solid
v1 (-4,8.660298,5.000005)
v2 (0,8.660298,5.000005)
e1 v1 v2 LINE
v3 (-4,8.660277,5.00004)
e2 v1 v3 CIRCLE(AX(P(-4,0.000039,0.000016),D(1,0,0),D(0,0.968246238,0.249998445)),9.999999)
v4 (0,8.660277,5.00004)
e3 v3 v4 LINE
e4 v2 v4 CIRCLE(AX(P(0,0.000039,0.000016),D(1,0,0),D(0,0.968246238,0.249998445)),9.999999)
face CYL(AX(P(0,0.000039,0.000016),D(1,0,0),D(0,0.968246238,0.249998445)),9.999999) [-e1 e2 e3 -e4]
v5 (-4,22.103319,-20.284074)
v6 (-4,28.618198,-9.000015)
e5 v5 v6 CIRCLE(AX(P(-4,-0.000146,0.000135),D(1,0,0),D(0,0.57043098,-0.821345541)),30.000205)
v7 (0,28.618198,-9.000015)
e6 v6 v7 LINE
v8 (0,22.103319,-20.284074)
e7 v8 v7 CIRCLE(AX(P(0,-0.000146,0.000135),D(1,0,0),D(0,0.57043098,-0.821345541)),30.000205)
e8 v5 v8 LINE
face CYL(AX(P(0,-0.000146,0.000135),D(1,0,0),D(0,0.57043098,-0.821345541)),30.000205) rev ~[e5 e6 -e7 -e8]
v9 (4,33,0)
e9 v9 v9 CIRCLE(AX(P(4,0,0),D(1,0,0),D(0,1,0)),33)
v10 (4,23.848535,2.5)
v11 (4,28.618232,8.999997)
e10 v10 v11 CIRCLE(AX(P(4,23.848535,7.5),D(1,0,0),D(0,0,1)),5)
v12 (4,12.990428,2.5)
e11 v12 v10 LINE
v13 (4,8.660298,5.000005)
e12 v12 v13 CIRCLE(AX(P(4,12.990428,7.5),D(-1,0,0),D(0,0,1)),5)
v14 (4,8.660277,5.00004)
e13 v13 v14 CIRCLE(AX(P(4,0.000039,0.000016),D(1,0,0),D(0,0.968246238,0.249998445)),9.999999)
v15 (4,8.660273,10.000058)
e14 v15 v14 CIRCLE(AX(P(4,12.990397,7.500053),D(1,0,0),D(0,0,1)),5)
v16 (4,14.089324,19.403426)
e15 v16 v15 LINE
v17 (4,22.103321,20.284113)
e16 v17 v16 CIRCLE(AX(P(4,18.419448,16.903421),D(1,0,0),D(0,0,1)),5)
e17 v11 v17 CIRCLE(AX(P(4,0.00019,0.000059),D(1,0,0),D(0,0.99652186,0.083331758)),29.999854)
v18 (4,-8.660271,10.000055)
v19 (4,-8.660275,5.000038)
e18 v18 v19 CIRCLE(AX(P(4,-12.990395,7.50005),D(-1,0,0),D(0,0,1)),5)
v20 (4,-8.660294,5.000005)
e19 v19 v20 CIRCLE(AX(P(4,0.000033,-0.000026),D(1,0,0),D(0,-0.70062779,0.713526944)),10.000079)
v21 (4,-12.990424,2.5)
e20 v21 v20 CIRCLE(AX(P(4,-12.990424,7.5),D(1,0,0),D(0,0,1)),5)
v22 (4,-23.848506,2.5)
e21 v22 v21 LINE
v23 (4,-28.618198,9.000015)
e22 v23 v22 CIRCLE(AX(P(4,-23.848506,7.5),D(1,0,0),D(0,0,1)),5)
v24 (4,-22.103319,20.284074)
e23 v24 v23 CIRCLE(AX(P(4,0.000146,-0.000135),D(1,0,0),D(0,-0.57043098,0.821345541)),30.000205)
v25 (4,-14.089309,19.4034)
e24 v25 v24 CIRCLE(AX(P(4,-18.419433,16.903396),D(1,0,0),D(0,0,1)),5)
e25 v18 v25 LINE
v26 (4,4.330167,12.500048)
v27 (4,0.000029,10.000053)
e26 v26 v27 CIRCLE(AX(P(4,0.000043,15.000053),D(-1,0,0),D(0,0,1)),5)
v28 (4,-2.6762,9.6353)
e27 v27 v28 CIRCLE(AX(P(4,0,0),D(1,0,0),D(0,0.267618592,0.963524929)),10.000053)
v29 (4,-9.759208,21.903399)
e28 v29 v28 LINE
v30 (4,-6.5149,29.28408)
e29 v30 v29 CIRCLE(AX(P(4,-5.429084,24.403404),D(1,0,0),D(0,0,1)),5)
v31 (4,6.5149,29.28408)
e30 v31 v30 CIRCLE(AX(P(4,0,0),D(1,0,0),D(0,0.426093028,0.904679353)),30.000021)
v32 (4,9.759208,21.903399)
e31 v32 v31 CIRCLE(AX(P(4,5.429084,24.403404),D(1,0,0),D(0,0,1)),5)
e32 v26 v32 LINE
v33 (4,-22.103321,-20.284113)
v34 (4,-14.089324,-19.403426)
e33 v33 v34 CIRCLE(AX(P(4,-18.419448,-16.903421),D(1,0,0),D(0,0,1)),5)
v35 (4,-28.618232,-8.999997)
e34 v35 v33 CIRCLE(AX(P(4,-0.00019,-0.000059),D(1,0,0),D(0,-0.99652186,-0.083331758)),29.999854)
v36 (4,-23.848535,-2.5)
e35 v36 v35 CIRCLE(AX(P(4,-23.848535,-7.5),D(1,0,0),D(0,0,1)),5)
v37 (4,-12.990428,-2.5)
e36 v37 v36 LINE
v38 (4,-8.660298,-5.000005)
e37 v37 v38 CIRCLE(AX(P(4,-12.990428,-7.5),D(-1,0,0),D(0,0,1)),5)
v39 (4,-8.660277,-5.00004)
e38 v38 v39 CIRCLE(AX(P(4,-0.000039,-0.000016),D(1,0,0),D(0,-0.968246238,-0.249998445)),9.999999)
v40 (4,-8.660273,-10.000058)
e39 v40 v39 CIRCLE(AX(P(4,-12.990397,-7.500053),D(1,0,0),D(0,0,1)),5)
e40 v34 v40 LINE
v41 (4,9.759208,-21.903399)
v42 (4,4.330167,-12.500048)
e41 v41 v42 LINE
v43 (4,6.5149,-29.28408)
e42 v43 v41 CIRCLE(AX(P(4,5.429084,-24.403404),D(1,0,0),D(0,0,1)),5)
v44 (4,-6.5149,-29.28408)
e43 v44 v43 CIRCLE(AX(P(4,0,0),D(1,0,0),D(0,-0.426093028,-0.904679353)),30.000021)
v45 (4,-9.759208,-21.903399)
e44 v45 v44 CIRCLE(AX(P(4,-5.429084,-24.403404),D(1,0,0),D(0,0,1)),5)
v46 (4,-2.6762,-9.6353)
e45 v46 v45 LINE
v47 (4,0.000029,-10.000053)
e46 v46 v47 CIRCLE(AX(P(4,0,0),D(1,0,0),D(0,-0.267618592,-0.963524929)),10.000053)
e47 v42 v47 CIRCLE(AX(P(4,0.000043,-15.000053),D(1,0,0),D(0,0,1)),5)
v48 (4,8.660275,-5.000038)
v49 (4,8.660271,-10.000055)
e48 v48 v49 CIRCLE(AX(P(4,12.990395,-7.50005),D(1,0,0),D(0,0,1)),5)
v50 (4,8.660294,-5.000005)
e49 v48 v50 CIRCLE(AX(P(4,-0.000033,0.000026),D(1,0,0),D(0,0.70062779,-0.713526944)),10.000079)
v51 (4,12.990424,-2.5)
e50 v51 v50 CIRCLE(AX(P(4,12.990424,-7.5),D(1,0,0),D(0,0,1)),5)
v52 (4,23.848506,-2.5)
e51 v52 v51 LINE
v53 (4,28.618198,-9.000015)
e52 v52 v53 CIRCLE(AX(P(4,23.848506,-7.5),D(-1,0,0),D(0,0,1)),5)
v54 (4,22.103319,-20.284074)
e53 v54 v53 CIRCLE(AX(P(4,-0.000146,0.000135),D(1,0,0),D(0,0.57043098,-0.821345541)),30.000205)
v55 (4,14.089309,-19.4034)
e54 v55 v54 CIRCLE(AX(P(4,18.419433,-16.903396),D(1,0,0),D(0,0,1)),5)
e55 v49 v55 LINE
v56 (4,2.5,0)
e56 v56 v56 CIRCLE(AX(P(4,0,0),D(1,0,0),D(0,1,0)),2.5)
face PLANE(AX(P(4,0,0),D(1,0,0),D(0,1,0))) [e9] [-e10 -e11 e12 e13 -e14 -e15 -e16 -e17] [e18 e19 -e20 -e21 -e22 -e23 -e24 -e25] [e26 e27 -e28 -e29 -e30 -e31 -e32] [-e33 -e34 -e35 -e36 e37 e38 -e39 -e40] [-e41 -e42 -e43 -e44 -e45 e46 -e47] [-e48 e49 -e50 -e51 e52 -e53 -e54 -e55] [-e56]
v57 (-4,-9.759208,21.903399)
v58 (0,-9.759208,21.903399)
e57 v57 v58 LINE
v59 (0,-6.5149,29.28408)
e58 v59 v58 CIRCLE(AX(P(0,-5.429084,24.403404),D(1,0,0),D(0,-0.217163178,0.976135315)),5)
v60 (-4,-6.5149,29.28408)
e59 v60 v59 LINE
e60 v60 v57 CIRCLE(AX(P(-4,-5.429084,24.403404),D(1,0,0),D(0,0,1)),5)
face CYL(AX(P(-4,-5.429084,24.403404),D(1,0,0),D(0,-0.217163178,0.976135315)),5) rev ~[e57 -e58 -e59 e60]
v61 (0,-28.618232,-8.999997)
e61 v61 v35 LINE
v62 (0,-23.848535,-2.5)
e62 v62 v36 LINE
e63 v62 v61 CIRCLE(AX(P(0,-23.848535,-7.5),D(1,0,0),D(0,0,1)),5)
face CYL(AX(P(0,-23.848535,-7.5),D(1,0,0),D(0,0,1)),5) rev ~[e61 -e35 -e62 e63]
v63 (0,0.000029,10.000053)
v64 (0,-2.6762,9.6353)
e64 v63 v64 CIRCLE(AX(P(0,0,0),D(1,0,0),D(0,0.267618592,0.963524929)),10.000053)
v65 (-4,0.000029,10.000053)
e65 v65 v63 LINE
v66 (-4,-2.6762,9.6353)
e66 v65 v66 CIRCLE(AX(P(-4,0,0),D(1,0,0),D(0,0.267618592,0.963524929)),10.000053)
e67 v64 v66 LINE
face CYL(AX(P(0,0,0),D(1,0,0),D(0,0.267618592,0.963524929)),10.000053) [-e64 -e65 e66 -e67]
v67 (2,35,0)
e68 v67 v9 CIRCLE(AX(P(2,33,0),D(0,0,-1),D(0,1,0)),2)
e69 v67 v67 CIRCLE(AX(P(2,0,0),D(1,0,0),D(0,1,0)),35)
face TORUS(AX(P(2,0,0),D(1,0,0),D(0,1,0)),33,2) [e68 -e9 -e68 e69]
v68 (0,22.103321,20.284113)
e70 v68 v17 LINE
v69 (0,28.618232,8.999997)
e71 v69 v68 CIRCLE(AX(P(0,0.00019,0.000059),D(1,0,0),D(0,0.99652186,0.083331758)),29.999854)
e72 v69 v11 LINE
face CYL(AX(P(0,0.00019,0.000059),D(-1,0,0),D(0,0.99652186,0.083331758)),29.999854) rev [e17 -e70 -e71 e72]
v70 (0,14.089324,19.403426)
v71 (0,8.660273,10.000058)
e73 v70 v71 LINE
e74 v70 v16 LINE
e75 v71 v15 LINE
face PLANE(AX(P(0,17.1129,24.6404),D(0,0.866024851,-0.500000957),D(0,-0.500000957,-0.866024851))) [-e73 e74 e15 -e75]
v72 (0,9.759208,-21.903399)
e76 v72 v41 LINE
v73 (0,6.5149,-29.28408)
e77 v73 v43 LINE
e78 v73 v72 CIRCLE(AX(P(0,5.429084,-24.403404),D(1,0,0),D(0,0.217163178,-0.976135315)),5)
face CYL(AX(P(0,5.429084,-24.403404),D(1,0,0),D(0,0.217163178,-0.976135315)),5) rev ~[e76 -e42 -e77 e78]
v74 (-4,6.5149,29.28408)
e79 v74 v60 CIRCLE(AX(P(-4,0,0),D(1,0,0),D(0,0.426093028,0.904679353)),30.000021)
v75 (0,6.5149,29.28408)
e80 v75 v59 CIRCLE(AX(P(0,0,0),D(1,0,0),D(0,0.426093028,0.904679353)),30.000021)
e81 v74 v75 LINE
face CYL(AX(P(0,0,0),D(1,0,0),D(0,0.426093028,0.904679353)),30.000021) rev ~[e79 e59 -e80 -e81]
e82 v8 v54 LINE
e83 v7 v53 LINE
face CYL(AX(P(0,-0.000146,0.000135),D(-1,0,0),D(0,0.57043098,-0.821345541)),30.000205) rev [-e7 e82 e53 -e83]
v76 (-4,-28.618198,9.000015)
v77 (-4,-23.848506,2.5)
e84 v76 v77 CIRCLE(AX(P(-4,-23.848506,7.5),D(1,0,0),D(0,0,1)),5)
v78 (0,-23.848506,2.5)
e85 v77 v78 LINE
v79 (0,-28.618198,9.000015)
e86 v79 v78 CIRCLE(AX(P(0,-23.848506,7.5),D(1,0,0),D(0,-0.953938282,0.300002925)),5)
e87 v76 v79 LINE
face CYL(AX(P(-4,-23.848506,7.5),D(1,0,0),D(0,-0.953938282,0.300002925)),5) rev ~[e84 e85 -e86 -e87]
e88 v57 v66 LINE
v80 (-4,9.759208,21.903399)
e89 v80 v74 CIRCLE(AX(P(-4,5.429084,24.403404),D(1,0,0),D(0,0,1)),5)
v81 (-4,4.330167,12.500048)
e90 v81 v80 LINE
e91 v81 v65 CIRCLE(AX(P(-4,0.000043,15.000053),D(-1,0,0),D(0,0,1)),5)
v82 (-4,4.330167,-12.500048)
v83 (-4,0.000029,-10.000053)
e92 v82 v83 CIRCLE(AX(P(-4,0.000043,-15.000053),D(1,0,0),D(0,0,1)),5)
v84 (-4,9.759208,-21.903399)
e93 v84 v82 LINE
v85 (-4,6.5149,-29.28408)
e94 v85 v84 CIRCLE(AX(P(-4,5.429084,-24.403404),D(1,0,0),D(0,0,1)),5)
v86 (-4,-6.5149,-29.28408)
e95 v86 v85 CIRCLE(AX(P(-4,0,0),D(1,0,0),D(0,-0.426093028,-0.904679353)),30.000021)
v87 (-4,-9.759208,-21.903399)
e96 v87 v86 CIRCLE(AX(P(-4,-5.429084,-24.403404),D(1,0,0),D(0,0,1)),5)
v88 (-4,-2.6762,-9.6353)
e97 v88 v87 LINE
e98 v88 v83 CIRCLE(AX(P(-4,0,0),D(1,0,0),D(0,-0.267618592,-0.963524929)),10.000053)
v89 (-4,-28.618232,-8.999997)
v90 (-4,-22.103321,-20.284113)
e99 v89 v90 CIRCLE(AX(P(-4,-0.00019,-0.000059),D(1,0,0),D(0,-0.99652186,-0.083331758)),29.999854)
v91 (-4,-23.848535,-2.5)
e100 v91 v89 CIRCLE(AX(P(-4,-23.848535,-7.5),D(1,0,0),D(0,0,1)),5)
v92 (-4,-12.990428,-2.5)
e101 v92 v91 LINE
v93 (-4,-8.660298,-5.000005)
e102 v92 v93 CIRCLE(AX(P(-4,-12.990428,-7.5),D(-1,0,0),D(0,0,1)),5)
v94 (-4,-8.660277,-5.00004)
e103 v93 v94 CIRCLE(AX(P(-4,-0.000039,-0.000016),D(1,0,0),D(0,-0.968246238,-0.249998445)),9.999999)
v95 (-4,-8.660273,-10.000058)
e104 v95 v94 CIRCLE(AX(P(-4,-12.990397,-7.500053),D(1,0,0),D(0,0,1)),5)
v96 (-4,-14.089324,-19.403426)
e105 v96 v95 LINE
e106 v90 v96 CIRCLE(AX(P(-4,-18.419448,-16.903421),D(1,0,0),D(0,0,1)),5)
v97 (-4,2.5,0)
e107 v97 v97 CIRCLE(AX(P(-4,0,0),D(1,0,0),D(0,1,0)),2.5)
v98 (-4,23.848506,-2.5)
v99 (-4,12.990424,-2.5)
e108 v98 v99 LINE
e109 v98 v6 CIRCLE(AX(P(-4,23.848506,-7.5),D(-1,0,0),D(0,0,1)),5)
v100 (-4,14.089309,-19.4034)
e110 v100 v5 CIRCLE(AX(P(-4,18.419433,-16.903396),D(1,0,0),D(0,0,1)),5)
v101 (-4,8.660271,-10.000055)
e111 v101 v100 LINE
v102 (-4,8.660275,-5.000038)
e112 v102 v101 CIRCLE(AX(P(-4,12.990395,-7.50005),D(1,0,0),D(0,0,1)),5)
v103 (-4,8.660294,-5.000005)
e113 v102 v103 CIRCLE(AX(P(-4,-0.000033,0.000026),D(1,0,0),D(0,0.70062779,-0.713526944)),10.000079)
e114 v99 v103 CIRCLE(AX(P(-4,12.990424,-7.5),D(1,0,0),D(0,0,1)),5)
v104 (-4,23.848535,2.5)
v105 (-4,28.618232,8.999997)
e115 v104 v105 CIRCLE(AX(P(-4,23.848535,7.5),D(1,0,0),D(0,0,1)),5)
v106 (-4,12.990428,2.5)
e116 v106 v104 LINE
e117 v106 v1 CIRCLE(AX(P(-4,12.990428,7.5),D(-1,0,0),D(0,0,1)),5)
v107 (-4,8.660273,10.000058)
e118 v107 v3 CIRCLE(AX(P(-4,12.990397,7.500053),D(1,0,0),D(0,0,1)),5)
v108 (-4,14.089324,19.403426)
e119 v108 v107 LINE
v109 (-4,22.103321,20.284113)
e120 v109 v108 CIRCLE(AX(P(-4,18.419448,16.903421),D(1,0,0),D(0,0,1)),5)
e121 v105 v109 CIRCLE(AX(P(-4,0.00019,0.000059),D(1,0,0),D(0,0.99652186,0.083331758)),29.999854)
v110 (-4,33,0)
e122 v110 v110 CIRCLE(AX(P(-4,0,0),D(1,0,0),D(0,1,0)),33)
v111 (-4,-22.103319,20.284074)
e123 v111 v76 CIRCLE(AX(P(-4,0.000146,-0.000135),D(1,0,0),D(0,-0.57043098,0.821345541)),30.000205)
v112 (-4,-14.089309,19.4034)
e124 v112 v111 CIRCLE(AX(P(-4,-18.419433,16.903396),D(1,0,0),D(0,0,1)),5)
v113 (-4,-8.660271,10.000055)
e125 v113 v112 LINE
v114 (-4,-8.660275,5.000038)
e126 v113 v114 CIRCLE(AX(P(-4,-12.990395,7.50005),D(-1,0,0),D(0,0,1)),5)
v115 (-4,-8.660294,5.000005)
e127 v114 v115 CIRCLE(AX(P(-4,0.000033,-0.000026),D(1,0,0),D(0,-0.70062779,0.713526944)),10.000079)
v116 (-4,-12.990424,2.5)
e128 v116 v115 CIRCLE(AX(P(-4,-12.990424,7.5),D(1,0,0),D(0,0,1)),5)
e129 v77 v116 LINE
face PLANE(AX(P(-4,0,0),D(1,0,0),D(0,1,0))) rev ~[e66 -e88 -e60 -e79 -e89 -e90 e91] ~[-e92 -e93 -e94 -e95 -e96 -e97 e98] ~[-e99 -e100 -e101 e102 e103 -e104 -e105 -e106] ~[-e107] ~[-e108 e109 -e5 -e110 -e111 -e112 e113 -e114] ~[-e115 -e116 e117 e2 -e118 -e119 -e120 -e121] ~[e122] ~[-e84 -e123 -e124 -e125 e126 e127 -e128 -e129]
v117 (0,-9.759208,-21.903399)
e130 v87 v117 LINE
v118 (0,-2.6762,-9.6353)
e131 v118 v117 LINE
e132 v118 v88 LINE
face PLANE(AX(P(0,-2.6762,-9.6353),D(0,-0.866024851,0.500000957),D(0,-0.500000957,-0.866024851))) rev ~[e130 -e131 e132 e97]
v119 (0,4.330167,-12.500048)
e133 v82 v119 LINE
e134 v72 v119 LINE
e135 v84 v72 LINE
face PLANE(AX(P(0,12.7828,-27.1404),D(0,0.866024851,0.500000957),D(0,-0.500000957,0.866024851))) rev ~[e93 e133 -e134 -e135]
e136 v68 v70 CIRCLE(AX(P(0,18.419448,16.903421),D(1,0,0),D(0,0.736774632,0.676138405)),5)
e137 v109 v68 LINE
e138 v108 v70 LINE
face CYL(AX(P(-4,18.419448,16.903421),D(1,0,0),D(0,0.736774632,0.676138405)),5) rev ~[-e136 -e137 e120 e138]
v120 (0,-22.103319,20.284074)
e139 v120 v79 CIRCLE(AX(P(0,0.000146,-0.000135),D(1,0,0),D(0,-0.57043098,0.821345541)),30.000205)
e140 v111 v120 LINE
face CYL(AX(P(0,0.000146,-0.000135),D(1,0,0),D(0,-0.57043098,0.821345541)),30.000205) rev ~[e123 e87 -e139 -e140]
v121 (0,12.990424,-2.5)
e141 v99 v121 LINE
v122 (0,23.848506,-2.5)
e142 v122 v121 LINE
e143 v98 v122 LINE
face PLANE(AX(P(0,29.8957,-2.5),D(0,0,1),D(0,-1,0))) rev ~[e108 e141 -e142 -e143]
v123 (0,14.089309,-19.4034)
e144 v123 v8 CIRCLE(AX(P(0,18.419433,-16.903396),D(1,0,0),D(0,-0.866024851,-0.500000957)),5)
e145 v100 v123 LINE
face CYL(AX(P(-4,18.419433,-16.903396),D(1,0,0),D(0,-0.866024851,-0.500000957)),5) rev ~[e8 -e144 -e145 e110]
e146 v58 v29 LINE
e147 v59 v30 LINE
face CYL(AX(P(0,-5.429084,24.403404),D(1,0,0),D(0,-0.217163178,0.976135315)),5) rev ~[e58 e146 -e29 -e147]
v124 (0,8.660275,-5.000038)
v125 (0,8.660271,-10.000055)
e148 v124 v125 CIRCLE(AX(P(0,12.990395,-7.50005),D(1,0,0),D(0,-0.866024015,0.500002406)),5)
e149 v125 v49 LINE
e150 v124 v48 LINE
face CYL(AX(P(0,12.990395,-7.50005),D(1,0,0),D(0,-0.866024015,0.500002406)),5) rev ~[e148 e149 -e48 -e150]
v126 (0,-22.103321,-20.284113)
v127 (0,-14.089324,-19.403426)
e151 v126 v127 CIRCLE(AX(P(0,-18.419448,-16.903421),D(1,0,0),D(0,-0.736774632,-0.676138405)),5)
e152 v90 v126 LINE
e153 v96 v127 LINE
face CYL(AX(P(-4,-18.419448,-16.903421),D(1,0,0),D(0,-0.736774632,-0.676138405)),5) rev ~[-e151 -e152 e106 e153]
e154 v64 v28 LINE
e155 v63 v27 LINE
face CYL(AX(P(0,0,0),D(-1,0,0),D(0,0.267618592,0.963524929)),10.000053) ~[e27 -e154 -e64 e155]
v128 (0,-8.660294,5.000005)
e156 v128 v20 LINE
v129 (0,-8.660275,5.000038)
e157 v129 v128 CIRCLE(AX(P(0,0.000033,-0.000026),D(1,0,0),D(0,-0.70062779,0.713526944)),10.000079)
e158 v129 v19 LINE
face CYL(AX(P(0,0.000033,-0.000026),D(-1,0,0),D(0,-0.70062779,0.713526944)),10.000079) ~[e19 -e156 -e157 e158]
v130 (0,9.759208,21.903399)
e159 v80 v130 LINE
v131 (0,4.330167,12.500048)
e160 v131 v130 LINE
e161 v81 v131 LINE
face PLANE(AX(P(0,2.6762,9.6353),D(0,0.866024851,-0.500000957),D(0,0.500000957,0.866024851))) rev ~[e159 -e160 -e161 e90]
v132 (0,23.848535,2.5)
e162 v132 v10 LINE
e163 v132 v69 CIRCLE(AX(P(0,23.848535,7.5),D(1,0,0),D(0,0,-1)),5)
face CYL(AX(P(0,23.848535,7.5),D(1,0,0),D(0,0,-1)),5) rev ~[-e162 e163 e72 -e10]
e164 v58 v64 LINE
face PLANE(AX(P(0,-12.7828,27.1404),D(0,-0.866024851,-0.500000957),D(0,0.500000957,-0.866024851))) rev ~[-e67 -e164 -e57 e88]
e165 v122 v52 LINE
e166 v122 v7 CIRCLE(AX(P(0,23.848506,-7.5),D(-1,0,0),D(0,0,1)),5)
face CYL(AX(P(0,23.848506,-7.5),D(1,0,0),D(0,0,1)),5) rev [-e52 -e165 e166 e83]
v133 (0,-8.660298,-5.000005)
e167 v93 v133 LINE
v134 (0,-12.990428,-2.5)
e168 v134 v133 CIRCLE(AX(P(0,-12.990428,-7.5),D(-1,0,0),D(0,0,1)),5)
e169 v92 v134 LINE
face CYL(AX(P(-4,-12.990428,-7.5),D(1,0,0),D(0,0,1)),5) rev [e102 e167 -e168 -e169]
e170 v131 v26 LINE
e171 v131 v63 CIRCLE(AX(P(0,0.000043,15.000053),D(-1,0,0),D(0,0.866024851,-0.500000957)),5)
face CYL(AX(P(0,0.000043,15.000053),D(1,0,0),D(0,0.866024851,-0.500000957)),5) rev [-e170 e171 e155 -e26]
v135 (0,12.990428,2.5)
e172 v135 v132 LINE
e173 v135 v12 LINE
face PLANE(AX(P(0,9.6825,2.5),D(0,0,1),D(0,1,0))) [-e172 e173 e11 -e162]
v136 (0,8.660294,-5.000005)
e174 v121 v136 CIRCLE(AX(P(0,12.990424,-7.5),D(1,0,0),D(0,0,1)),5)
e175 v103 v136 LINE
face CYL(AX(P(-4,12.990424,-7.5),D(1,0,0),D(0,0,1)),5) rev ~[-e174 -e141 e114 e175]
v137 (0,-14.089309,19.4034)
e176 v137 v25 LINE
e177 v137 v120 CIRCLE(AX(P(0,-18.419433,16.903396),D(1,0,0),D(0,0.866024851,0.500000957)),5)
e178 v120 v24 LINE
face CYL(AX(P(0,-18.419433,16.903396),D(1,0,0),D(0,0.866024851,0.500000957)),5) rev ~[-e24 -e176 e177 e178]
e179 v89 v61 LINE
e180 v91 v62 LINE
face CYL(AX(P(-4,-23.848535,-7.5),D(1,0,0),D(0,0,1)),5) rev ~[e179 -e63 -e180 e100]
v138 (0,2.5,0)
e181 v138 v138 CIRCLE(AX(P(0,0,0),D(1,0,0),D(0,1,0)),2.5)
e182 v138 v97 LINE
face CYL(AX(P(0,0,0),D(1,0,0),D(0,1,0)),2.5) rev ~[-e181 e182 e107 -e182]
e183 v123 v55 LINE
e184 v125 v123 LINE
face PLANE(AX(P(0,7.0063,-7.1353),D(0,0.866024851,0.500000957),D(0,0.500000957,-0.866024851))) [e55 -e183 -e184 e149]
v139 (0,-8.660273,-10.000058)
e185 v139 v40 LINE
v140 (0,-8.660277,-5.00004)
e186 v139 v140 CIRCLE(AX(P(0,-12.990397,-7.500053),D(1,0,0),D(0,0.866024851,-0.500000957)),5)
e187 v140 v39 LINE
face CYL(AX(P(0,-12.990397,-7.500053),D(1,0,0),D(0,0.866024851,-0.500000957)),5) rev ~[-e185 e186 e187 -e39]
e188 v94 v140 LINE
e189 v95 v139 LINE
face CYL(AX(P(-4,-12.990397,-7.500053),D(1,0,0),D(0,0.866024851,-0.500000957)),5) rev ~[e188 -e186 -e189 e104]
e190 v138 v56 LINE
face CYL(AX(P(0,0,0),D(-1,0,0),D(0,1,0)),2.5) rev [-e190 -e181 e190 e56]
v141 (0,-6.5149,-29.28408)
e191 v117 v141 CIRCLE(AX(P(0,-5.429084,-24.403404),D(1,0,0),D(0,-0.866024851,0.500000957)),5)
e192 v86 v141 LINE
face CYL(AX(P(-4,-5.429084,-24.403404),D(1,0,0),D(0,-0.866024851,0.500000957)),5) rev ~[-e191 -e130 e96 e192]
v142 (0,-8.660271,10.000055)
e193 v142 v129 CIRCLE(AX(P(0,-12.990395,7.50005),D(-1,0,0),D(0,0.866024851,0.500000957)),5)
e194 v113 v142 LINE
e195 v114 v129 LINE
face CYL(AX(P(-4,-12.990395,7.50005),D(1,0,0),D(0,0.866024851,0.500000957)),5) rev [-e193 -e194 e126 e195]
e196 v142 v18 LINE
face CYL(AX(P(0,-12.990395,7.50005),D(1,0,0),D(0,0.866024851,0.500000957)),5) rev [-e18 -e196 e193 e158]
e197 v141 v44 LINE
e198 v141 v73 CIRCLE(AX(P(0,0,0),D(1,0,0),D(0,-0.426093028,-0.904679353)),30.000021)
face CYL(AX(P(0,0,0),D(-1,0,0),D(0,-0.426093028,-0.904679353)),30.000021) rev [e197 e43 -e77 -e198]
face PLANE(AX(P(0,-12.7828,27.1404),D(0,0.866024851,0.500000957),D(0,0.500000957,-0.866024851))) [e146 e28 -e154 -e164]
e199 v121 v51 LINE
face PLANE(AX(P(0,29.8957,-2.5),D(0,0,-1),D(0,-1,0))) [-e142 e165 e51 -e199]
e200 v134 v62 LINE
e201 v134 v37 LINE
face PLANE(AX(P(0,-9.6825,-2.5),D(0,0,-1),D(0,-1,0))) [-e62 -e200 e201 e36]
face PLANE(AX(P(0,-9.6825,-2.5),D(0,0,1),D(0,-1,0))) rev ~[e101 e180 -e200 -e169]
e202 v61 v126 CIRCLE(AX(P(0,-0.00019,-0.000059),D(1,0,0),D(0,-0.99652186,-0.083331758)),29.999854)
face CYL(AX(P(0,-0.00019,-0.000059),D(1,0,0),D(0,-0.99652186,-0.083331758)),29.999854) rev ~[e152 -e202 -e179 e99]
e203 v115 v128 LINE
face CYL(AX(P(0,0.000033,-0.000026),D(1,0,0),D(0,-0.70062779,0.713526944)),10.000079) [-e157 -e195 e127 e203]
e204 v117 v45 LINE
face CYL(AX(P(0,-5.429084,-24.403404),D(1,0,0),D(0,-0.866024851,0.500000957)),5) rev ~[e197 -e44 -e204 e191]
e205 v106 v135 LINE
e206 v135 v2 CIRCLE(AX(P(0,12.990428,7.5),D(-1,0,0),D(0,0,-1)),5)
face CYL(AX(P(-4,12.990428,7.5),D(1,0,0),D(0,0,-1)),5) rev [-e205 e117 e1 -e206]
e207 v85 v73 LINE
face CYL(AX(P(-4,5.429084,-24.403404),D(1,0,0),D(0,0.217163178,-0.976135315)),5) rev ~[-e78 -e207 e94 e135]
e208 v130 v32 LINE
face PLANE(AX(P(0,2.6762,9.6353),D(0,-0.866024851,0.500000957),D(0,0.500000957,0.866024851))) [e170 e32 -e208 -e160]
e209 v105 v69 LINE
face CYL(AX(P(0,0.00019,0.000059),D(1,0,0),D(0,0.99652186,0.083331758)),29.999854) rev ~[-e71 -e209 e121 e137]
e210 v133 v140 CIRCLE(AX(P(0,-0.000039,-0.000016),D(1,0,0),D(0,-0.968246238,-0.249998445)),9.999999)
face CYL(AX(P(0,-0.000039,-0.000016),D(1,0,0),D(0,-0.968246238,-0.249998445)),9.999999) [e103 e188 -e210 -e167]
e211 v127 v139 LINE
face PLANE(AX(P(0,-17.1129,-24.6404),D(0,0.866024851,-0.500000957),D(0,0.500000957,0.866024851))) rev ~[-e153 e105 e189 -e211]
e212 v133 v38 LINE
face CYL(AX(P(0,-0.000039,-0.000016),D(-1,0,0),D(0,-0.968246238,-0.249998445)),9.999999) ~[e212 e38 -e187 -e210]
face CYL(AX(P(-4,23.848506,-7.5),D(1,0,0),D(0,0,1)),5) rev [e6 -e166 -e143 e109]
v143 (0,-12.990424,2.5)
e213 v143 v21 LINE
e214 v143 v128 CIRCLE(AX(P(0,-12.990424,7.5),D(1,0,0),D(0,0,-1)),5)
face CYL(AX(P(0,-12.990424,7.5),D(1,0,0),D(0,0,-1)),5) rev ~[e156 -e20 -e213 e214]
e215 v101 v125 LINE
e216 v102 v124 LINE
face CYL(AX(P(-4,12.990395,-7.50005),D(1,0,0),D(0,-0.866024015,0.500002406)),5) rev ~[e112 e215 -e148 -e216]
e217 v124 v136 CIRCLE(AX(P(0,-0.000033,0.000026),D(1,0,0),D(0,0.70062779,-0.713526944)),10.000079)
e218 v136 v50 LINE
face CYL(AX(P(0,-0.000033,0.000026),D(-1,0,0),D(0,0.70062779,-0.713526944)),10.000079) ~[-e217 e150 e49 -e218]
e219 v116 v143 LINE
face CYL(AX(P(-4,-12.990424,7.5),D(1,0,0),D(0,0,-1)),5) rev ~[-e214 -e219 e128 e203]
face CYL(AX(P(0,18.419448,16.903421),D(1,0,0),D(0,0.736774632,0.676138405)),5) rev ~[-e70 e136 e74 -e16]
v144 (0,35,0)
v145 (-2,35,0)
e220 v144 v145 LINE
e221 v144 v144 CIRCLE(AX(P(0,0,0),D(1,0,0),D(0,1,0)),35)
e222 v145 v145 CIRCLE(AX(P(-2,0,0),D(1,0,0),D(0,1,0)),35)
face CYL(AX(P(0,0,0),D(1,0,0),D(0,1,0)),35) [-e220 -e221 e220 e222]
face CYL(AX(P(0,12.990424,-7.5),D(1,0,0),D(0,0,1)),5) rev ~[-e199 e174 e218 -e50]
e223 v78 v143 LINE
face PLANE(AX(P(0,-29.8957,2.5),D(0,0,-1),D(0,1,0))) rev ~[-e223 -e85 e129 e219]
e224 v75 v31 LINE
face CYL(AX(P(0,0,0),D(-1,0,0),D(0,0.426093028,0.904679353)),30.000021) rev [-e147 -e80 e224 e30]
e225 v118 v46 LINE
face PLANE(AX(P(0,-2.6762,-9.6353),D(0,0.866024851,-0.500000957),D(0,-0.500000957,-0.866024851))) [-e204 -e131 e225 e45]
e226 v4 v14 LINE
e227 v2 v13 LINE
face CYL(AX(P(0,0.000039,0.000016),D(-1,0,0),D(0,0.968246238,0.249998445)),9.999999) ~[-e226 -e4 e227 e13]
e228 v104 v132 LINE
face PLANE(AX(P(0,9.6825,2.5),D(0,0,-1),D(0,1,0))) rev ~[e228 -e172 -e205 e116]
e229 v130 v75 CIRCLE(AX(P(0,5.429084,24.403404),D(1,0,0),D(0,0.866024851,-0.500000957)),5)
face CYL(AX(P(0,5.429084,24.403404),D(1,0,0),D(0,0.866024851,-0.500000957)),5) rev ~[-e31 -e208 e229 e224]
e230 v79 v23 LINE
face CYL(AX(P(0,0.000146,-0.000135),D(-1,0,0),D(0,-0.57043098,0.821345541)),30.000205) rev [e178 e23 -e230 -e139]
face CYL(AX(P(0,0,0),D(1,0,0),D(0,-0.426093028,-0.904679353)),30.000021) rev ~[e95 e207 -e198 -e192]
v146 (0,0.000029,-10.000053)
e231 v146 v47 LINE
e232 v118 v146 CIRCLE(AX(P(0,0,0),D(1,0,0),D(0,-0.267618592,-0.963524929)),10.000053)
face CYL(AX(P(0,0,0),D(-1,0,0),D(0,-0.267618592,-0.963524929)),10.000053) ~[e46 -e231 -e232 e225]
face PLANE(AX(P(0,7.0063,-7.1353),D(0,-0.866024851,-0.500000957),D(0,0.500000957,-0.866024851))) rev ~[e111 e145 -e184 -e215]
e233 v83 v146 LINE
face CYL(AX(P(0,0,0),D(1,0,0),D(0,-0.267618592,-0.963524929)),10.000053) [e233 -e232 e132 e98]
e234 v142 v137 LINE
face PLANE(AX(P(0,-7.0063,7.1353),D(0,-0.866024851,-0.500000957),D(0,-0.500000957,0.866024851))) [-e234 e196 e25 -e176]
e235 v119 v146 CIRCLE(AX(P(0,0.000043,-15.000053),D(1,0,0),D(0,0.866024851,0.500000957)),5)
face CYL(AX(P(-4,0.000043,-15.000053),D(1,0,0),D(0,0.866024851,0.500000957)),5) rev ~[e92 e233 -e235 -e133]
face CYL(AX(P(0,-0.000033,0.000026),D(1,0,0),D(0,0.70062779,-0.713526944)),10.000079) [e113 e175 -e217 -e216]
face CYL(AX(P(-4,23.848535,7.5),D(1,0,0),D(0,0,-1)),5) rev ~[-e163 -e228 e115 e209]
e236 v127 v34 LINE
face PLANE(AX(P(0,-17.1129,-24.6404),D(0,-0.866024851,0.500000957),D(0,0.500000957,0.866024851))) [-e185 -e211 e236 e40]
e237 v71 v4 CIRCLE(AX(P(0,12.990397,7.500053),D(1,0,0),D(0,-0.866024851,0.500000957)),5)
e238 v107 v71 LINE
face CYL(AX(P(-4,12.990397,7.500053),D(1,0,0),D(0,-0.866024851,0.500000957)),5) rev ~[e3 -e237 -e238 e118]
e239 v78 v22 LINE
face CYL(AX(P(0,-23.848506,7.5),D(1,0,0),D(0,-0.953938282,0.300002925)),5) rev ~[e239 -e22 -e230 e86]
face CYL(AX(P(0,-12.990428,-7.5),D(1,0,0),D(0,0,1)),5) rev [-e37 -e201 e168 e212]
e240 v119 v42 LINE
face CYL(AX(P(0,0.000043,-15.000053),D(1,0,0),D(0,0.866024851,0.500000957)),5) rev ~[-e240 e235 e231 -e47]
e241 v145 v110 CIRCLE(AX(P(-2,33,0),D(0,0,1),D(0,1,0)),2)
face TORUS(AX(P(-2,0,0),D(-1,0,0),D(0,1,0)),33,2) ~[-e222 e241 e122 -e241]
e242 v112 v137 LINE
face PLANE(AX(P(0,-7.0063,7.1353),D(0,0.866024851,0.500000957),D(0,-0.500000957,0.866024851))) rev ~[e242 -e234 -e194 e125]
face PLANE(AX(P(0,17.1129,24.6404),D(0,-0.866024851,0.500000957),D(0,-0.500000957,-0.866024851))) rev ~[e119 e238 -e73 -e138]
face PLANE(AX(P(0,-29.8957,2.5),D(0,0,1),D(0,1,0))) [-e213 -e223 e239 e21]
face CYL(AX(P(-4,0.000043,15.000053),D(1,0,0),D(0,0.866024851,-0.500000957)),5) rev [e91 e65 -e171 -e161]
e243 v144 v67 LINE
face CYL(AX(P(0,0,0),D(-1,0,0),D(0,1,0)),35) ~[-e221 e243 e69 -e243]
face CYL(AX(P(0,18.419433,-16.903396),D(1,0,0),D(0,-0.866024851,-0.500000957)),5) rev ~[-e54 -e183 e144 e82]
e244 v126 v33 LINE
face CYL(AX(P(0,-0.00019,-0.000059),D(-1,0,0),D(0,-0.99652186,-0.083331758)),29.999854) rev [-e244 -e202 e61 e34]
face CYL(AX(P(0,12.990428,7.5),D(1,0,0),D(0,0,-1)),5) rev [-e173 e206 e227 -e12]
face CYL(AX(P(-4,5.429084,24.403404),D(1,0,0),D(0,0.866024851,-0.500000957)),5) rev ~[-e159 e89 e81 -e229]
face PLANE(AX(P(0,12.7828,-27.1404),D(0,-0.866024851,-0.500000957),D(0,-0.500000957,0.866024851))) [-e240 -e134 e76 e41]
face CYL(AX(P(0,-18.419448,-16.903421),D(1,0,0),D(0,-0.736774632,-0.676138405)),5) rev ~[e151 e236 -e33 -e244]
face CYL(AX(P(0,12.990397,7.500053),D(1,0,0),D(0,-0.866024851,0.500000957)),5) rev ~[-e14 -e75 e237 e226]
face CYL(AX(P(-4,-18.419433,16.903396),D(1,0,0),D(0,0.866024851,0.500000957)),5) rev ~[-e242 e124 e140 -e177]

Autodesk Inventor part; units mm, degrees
ref_plane "YZ Plane" through (0, 0, 0) normal (1, 0, 0) x (0, 1, 0)
ref_plane "XZ Plane" through (0, 0, 0) normal (0, 1, 0) x (-1, 0, 0)
ref_plane "XY Plane" through (0, 0, 0) normal (0, 0, 1) x (1, 0, 0)
sketch "Esboço1" plane through (0, 0, 0) normal (1, 0, 0) x (0, 1, 0)
  circle A0 centre (0, 0) radius 35
  circle A1 centre (0, 0) radius 2.5
  line L0 (9.6825, 2.5) -> (29.8957, 2.5)
  line L1 (29.8957, -2.5) -> (9.6825, -2.5)
  line L2 (17.1129, 24.6404) -> (7.0063, 7.1353)
  line L3 (2.6762, 9.6353) -> (12.7828, 27.1404)
  line L4 (-12.7828, 27.1404) -> (-2.6762, 9.6353)
  line L5 (-7.0063, 7.1353) -> (-17.1129, 24.6404)
  line L6 (-29.8957, 2.5) -> (-9.6825, 2.5)
  line L7 (-9.6825, -2.5) -> (-29.8957, -2.5)
  line L8 (-17.1129, -24.6404) -> (-7.0063, -7.1353)
  line L9 (-2.6762, -9.6353) -> (-12.7828, -27.1404)
  line L10 (12.7828, -27.1404) -> (2.6762, -9.6353)
  line L11 (7.0063, -7.1353) -> (17.1129, -24.6404)
  arc A2 (29.8957, 2.5) -> (17.1129, 24.6404) centre (0, 0) ccw
  arc A3 (12.7828, 27.1404) -> (-12.7828, 27.1404) centre (0, 0) ccw
  arc A4 (-17.1129, 24.6404) -> (-29.8957, 2.5) centre (0, 0) ccw
  arc A5 (-29.8957, -2.5) -> (-17.1129, -24.6404) centre (0, 0) ccw
  arc A6 (-12.7828, -27.1404) -> (12.7828, -27.1404) centre (0, 0) ccw
  arc A7 (17.1129, -24.6404) -> (29.8957, -2.5) centre (0, 0) ccw
  arc A8 (-2.6762, -9.6353) -> (2.6762, -9.6353) centre (0, 0) ccw
  arc A9 (2.6762, 9.6353) -> (-2.6762, 9.6353) centre (0, 0) ccw
  arc A10 (7.0063, -7.1353) -> (9.6825, -2.5) centre (0, 0) ccw
  arc A11 (9.6825, 2.5) -> (7.0063, 7.1353) centre (0, 0) ccw
  arc A12 (-7.0063, 7.1353) -> (-9.6825, 2.5) centre (0, 0) ccw
  arc A13 (-9.6825, -2.5) -> (-7.0063, -7.1353) centre (0, 0) ccw
  dimension "d0" = 70
  dimension "d3" = 5
  dimension "d4" = 5
  dimension "d5" = 2.5
  dimension "d8" = 360
  dimension "d10" = 30
  dimension "d11" = 10
extrude "Extrusão1" add sketch "Esboço1" along normal mid plane 8
fillet "Arredondamento1" radius 2 2 edges at (-4, -35, 0) (4, -35, 0)
fillet "Arredondamento2" radius 5 44 edges at (2, 12.7828, -27.1404) (-2, 12.7828, -27.1404) (2, 17.1129, -24.6404) (-2, 17.1129, -24.6404) (2, 29.8957, 2.5) (-2, 29.8957, 2.5) (2, 29.8957, -2.5) (-2, 29.8957, -2.5) (2, 2.6762, -9.6353) (-2, 2.6762, -9.6353) (2, 7.0063, -7.1353) (-2, 7.0063, -7.1353) (2, 9.6825, -2.5) (-2, 9.6825, -2.5) (2, 9.6825, 2.5) (-2, 9.6825, 2.5) (2, 7.0063, 7.1353) (-2, 7.0063, 7.1353) (2, 17.1129, 24.6404) (-2, 17.1129, 24.6404) (2, 12.7828, 27.1404) (-2, 12.7828, 27.1404) (2, -7.0063, 7.1353) (-2, -7.0063, 7.1353) (2, -9.6825, 2.5) (-2, -9.6825, 2.5) (2, 2.6762, 9.6353) (-2, 2.6762, 9.6353) (2, -7.0063, -7.1353) (-2, -7.0063, -7.1353) (2, -9.6825, -2.5) (-2, -9.6825, -2.5) (2, -12.7828, 27.1404) (-2, -12.7828, 27.1404) (2, -17.1129, 24.6404) (-2, -17.1129, 24.6404) (2, -29.8957, -2.5) (-2, -29.8957, -2.5) (2, -29.8957, 2.5) (-2, -29.8957, 2.5) (2, -12.7828, -27.1404) (-2, -12.7828, -27.1404) (2, -17.1129, -24.6404) (-2, -17.1129, -24.6404)
equation "\"d5\" = 0.5 * d4"
properties part number "Wheel"
